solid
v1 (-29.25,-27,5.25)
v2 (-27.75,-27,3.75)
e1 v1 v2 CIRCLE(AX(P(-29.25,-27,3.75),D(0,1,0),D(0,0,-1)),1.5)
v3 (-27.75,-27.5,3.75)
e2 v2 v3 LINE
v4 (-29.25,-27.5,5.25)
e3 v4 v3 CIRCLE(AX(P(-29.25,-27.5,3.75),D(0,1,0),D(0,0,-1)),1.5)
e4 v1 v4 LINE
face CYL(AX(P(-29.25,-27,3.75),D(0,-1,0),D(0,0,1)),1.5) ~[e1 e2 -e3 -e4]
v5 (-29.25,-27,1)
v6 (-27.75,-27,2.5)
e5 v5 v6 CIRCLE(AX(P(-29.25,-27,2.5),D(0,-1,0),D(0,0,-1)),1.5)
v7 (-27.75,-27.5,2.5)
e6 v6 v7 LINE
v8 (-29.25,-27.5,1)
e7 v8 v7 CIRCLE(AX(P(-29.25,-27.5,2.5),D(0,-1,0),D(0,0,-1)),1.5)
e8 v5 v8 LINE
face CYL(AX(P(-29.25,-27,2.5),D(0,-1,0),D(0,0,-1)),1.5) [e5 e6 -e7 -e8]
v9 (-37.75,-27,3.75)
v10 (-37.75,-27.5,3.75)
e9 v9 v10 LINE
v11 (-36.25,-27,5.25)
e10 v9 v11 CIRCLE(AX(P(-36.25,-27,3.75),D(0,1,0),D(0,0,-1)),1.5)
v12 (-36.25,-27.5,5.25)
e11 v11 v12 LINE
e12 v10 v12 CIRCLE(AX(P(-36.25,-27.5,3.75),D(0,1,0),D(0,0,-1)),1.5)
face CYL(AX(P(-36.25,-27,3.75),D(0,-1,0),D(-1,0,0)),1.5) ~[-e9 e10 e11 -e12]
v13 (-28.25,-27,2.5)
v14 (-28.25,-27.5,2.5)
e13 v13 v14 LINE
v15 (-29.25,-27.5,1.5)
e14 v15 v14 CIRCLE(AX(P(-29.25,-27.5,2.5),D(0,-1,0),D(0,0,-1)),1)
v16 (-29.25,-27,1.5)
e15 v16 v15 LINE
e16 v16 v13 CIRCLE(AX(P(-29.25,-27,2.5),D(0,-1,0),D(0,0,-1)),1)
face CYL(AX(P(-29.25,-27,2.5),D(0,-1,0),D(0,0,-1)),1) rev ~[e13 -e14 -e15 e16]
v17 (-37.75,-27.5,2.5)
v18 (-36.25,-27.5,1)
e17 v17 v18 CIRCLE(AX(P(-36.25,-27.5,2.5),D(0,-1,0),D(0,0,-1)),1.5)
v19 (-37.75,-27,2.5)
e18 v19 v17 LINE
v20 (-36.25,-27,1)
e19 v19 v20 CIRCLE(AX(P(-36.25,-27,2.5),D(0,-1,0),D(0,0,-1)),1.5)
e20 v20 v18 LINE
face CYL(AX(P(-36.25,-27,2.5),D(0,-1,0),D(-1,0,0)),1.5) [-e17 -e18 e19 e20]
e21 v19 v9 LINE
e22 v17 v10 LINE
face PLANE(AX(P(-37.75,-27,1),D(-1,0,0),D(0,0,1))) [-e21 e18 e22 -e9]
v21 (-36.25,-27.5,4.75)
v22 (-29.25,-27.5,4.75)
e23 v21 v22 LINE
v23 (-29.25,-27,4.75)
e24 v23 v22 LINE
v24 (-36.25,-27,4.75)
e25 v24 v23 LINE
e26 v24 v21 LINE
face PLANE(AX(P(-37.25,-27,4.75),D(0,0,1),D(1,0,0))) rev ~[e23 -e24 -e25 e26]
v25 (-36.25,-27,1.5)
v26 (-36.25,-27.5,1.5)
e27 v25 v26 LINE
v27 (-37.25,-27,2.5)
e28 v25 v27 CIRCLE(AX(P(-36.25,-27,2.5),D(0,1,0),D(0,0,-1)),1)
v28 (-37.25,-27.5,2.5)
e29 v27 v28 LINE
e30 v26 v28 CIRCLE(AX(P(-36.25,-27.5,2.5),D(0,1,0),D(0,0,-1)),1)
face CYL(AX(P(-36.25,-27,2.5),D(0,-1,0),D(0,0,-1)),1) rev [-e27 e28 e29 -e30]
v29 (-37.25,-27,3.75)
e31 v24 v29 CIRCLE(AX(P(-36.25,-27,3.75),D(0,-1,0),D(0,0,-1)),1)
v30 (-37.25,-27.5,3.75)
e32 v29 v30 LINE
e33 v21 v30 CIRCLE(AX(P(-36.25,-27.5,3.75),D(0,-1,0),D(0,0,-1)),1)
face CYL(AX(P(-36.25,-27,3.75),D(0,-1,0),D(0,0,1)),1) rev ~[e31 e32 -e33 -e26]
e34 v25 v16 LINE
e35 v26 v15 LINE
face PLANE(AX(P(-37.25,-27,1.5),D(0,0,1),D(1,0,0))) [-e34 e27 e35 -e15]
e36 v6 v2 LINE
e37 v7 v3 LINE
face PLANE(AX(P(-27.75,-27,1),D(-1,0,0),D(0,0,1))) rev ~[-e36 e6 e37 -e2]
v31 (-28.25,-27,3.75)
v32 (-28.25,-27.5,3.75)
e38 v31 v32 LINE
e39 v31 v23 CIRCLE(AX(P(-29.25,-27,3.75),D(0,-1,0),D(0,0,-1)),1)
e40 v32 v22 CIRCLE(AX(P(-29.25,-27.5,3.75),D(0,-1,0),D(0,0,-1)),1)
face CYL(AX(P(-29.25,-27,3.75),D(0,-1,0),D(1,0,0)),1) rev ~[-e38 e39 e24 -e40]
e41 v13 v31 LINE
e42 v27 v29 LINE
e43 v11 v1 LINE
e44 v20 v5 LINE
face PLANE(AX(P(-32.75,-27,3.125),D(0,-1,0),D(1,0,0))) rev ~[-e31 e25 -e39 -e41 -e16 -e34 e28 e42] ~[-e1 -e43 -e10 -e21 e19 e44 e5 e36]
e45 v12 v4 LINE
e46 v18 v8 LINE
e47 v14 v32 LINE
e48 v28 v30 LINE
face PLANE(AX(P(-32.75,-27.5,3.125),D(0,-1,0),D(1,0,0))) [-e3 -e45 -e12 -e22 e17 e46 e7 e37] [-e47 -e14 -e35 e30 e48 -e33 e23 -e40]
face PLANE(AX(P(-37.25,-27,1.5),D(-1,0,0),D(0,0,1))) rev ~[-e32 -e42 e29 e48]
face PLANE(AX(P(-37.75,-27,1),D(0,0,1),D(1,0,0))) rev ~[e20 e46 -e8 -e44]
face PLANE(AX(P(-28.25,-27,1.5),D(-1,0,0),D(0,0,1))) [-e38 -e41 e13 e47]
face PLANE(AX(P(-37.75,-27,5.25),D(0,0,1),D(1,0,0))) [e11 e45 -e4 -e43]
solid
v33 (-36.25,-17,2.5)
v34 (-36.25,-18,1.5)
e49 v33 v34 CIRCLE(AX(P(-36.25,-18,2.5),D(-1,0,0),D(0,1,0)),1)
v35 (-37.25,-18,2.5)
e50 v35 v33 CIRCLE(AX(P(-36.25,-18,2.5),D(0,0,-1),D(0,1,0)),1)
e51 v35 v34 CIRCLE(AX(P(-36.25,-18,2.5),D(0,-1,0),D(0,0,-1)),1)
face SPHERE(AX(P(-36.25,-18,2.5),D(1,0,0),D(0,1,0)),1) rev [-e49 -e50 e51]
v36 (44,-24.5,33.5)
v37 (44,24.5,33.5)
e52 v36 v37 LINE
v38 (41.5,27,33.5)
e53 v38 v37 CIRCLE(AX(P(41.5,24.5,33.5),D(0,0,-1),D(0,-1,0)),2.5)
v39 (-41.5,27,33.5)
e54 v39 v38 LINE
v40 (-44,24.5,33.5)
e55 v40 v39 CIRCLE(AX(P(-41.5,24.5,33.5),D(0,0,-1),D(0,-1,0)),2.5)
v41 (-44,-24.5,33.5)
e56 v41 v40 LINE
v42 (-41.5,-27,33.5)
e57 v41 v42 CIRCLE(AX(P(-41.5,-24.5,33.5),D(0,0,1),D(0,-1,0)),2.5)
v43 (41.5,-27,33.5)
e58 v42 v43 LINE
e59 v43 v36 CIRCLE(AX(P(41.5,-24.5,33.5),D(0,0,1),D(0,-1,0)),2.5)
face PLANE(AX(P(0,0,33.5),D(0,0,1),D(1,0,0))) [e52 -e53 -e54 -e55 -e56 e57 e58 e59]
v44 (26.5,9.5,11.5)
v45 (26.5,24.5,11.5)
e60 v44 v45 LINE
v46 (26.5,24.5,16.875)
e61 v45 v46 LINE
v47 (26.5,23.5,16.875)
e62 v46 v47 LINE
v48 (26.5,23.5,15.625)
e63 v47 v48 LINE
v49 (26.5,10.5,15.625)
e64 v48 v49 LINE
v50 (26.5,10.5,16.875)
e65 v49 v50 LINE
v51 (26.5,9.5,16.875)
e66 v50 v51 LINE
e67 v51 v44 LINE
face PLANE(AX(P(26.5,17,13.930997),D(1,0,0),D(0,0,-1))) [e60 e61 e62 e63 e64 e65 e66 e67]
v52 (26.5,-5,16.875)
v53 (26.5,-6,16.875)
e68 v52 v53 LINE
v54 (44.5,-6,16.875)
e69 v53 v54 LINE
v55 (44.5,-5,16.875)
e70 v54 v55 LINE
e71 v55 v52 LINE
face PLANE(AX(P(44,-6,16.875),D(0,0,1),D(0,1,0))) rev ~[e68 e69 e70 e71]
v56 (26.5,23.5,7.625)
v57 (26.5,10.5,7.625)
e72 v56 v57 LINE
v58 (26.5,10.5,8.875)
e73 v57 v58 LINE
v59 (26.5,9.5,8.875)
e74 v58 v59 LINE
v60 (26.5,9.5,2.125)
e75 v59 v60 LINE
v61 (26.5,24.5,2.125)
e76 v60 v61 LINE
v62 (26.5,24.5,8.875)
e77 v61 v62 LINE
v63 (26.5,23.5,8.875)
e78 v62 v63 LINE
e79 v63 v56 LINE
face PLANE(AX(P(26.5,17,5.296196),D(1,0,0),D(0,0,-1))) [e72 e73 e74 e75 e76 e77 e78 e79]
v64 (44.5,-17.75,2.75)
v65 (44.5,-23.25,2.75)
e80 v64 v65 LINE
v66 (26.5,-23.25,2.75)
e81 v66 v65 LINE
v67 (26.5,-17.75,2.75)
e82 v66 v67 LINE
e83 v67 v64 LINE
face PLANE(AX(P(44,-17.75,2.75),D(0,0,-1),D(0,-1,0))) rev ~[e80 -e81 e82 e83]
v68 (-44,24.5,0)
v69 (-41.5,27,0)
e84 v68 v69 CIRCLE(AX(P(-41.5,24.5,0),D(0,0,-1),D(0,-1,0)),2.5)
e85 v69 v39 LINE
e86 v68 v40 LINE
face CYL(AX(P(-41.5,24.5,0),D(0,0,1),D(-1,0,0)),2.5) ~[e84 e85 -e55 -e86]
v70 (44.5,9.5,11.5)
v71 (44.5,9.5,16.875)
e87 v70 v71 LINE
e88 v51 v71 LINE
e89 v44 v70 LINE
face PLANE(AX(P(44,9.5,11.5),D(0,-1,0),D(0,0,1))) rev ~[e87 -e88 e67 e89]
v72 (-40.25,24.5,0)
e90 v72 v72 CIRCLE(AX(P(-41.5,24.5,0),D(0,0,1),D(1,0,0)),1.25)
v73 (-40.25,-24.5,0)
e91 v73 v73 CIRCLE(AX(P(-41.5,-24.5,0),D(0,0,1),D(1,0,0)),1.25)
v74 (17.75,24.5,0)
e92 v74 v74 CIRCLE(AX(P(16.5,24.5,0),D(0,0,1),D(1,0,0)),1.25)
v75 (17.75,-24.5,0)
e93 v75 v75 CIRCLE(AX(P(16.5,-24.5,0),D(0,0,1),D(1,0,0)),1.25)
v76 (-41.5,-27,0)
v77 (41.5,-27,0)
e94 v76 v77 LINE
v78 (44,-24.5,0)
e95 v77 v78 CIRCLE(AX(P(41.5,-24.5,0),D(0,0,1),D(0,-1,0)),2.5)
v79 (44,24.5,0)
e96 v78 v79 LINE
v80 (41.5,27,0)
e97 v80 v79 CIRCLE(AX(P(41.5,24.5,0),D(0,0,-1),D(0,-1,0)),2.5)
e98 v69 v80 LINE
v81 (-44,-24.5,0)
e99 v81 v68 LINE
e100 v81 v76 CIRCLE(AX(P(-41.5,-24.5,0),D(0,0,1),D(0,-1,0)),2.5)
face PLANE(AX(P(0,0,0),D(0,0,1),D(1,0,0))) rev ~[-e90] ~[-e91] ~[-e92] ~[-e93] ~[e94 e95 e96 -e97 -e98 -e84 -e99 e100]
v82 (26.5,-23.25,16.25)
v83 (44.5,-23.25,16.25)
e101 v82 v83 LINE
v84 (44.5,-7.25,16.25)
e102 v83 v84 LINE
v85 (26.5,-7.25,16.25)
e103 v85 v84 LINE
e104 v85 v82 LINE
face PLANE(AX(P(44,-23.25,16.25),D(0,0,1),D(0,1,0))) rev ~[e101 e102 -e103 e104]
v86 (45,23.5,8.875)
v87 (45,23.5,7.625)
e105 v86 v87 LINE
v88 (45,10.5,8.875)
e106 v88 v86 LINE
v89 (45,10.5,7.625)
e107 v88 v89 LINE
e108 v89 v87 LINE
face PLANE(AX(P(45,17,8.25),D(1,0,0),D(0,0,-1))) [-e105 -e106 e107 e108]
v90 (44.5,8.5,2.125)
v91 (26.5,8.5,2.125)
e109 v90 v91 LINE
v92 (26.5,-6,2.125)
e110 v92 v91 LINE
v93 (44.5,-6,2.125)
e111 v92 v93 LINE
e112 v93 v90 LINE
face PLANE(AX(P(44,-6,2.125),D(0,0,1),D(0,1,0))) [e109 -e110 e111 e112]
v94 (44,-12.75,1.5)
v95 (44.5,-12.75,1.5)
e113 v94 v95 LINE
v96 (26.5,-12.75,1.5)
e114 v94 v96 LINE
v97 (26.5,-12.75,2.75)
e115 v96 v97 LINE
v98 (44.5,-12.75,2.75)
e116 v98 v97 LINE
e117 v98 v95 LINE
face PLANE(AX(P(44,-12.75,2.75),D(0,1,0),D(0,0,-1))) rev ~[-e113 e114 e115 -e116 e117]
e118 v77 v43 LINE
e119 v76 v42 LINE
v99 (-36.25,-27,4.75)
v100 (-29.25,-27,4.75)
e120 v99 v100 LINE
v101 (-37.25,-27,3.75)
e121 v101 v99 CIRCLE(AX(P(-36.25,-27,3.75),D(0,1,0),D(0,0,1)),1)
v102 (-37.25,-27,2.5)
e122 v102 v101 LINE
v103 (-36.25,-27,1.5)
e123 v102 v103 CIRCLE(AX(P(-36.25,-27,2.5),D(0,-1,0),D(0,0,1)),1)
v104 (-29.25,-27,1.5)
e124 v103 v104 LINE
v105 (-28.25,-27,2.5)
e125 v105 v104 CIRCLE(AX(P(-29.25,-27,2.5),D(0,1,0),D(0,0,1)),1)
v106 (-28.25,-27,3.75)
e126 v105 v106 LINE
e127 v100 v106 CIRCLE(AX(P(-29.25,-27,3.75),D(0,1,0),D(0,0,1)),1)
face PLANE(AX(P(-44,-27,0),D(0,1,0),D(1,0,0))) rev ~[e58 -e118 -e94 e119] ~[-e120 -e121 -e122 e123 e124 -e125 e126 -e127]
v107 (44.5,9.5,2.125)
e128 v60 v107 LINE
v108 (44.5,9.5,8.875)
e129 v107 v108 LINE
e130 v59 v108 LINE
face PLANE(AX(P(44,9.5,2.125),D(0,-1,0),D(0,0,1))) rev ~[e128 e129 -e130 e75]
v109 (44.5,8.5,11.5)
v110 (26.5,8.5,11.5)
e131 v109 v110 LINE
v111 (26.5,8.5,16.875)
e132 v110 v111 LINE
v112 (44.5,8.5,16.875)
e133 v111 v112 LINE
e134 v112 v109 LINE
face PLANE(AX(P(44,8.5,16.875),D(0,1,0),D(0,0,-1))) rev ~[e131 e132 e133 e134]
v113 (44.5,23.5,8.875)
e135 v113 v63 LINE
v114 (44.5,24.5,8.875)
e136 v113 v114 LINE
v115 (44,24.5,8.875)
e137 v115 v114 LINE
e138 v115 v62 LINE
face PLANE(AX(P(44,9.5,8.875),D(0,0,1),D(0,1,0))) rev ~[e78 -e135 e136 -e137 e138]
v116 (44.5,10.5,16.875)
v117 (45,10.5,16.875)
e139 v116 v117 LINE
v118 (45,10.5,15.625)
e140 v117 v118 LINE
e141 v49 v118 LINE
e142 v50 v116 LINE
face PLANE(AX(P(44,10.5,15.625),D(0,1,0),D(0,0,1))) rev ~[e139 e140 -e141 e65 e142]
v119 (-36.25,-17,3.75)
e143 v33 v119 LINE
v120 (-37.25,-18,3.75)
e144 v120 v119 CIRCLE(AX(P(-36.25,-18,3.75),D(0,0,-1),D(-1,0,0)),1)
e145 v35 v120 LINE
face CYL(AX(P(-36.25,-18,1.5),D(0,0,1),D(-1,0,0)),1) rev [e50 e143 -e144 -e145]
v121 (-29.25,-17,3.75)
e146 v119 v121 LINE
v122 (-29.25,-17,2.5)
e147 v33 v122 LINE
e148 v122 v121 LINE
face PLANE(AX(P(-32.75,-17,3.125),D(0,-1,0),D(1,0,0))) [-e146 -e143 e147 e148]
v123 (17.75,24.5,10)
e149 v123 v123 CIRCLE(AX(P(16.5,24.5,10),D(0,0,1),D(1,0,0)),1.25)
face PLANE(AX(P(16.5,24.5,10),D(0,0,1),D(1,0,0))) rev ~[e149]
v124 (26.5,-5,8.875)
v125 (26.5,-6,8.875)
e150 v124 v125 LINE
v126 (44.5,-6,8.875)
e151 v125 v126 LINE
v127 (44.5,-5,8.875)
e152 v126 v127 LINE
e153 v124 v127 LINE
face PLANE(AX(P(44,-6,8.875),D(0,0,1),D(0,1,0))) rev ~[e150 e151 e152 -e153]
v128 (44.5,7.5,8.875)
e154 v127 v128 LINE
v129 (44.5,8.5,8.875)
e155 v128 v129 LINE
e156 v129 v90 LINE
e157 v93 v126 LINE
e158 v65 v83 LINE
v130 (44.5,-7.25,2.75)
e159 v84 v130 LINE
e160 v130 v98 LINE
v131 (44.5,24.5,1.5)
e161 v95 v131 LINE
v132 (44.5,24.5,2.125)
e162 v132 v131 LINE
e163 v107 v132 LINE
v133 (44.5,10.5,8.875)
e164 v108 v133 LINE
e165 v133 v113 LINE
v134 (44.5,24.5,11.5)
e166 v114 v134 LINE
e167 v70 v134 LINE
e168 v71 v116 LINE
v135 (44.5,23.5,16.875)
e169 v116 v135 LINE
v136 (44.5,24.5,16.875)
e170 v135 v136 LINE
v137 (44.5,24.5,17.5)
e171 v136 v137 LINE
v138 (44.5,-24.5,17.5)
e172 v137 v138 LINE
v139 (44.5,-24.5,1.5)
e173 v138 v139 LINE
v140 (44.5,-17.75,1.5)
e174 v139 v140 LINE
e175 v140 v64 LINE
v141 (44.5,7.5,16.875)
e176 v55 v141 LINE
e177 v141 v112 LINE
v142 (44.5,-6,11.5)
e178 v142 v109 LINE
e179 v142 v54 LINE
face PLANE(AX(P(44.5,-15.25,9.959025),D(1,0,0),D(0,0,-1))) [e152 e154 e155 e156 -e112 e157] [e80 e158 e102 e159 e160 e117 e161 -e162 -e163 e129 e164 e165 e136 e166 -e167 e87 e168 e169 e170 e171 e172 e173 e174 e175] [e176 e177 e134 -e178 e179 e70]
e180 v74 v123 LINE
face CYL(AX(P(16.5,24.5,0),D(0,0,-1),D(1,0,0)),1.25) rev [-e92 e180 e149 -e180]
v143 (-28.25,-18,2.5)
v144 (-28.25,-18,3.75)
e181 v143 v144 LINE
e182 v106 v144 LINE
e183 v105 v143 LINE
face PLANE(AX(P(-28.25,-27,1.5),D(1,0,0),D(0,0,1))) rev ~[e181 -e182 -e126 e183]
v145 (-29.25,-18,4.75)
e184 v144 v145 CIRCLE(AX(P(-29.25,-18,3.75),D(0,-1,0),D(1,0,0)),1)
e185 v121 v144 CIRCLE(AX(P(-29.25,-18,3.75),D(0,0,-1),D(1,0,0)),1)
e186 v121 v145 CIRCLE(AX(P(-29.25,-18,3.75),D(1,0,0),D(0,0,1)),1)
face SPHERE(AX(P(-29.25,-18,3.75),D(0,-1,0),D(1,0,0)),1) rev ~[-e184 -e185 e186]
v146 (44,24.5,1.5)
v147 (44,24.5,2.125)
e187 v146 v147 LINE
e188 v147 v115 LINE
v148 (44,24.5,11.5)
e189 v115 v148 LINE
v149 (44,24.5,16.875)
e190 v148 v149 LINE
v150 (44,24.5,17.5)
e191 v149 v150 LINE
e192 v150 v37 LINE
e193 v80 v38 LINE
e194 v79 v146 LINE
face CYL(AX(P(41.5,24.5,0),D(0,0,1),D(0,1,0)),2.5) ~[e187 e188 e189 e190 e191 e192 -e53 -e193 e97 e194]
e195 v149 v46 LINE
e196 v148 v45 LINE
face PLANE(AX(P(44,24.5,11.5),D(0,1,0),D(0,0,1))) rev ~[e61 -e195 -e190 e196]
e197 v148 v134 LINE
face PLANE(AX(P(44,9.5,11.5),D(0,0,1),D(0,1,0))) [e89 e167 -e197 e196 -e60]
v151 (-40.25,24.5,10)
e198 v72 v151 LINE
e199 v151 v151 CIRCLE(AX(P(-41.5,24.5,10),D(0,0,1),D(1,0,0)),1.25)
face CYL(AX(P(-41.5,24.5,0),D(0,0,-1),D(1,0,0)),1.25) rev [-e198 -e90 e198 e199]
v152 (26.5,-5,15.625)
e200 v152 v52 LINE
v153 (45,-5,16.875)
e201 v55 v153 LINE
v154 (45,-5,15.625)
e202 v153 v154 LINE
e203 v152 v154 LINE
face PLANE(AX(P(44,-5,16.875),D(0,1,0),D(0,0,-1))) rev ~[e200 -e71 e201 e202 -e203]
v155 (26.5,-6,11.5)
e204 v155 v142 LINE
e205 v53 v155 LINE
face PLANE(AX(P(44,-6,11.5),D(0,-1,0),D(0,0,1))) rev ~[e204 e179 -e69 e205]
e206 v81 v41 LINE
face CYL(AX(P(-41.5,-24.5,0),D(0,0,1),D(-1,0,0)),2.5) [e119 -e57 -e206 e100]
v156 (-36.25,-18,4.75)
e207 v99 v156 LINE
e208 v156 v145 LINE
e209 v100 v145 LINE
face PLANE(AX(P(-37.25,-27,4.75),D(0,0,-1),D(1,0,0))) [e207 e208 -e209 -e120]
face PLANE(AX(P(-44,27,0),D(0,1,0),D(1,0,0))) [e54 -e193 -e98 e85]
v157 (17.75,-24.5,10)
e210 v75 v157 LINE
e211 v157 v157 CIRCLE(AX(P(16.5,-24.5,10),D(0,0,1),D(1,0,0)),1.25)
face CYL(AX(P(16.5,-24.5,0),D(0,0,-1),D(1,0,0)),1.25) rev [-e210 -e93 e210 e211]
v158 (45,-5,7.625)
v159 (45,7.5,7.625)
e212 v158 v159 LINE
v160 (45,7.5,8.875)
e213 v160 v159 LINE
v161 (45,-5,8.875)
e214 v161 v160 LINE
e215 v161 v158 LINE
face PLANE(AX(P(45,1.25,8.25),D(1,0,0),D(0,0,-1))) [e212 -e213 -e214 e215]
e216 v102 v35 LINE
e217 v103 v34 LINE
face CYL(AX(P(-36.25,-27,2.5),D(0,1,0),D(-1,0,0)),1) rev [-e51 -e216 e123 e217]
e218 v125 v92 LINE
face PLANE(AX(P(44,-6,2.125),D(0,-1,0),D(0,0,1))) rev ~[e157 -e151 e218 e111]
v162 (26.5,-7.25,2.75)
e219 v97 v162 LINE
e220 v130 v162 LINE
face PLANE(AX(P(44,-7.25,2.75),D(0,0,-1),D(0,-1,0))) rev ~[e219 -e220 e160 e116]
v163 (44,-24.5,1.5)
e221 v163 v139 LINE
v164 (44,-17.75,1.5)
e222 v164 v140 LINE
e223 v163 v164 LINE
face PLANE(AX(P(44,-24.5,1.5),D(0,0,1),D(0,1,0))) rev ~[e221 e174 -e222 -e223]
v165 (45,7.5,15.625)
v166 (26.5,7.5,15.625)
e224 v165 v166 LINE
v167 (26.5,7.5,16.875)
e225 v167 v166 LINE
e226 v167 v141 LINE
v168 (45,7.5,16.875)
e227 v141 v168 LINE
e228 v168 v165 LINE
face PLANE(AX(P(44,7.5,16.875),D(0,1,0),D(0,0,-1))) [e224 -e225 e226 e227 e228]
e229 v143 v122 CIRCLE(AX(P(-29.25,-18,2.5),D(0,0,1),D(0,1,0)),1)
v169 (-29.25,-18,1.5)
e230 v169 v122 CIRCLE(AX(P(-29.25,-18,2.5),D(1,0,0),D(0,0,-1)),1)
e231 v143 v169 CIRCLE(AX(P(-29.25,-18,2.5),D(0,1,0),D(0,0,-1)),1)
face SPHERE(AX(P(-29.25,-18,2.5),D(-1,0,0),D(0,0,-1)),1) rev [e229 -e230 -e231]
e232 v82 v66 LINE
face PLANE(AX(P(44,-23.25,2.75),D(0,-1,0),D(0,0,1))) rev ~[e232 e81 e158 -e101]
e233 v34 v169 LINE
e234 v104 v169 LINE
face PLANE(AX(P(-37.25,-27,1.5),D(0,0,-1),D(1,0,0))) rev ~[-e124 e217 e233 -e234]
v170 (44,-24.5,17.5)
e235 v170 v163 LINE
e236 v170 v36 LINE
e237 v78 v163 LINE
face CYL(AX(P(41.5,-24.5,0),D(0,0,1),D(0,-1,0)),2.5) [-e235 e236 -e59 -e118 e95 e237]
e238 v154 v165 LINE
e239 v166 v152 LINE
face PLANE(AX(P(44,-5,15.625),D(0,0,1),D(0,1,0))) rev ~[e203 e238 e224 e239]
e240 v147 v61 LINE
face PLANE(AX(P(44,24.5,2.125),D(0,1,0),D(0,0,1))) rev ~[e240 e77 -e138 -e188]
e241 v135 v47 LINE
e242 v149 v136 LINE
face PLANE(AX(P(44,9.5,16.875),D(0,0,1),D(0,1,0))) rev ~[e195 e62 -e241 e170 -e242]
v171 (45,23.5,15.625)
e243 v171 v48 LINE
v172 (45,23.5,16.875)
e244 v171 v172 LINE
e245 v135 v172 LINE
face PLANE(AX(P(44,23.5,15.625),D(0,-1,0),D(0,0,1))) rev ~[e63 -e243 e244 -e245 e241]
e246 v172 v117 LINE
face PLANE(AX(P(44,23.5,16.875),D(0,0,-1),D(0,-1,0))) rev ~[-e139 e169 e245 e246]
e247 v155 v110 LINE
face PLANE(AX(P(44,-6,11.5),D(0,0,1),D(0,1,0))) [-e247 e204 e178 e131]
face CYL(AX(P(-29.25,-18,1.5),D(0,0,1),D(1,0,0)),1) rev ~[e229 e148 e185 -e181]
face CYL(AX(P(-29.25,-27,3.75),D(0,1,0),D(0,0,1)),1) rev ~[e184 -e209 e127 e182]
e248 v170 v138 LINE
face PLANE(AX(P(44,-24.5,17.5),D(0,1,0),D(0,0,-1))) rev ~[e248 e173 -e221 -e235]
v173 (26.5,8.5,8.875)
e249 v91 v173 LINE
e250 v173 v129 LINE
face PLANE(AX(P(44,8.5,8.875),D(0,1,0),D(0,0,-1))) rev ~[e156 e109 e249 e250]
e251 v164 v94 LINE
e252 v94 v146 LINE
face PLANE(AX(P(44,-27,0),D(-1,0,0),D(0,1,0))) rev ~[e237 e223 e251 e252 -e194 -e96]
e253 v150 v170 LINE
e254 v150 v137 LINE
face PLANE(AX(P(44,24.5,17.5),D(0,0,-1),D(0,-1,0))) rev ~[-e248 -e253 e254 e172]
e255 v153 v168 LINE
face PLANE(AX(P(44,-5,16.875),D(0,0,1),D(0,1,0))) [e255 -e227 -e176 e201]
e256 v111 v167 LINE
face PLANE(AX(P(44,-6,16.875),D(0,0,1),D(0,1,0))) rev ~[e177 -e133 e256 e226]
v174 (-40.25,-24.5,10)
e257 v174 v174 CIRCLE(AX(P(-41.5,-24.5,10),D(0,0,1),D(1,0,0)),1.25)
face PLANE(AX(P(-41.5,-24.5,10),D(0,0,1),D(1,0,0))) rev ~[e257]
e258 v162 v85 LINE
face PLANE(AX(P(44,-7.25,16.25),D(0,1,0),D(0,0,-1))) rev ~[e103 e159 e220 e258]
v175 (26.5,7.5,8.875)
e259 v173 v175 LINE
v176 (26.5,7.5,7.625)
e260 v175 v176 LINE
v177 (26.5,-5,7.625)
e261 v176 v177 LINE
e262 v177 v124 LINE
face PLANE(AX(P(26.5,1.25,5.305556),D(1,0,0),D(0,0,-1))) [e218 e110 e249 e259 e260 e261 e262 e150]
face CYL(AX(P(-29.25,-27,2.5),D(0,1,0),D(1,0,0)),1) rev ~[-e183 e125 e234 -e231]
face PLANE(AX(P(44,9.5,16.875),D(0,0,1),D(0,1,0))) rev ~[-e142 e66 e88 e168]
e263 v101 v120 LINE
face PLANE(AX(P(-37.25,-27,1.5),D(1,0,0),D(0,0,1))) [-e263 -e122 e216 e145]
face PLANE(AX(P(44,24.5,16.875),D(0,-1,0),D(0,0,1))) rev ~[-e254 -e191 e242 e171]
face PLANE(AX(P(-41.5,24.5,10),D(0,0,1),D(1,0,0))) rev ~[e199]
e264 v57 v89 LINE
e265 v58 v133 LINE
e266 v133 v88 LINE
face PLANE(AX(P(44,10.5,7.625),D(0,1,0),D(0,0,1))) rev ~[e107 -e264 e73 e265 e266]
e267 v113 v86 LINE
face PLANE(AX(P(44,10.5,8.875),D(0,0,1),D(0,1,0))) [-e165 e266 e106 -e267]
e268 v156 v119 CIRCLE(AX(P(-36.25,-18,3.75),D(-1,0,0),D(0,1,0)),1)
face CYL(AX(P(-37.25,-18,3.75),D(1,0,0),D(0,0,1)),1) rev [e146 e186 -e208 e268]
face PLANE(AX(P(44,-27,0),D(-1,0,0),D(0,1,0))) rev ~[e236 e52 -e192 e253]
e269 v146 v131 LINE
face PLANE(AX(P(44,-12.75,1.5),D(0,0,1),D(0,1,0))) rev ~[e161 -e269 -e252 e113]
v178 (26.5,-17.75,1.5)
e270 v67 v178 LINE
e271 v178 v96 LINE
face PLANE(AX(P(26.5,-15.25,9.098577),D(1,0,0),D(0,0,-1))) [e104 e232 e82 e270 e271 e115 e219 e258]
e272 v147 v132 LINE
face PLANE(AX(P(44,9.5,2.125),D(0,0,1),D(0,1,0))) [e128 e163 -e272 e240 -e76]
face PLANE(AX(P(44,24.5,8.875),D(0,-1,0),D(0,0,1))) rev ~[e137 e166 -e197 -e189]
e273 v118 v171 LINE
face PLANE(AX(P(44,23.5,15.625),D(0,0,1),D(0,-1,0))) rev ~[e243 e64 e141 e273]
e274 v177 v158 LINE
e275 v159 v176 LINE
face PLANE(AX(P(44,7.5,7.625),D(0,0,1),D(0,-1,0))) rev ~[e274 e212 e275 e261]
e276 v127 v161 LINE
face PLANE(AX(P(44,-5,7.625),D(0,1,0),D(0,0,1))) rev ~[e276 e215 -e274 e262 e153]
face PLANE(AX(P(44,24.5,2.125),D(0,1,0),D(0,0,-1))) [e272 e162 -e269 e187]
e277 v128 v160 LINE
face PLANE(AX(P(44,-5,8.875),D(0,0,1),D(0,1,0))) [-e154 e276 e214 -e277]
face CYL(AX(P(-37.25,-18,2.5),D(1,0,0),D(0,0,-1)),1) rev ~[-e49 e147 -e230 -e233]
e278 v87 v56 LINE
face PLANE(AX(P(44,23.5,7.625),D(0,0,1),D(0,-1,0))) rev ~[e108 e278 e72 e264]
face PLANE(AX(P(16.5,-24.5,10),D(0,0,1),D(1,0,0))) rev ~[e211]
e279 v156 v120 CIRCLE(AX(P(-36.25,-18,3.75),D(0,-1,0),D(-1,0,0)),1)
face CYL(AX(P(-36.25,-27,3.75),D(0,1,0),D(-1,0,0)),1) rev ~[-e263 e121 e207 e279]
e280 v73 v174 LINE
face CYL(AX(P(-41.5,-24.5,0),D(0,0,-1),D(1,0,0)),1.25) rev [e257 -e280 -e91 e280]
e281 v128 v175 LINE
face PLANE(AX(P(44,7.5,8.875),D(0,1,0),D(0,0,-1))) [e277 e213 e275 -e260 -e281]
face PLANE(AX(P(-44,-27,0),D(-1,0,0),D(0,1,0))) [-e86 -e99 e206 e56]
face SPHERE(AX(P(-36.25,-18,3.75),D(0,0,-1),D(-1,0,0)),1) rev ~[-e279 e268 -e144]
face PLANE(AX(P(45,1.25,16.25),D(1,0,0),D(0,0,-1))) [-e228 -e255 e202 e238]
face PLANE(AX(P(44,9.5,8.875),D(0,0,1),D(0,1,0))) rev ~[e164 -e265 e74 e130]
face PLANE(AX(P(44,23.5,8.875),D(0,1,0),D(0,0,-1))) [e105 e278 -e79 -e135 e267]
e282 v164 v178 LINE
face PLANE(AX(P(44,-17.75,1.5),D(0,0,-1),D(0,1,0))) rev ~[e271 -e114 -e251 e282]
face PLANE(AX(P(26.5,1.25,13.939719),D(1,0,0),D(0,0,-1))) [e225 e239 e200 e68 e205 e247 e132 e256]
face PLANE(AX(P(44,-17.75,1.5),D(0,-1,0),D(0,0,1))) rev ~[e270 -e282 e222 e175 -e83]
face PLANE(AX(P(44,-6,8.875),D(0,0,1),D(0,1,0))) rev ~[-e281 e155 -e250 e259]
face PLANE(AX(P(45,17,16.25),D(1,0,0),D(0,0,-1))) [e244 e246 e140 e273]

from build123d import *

# Parameters (mm, degrees)
ESQUISSE1_W             = 88
ESQUISSE1_H             = 54
ESQUISSE1_R             = 1.25
BOSS_EXTRU_1_DEPTH      = 33.5
ESQUISSE1_3_R           = 1.25
ENL_V_MAT_EXTRU_1_DEPTH = 10
CONG_1_R                = 2.5
ENL_V_MAT_EXTRU_2_DEPTH = 17.5
ESQUISSE2_7_W           = 2
ESQUISSE2_7_H           = 14.5
ESQUISSE2_7_W_2         = 0.625
ESQUISSE2_7_W_3         = 5.375
ESQUISSE2_7_H_2         = 0.5
ESQUISSE2_7_W_4         = 6.75
ESQUISSE2_7_H_3         = 15
BOSS_EXTRU_3_DEPTH      = 0.5
ESQUISSE2_8_W           = 1.25
ESQUISSE2_8_H           = 12.5
ESQUISSE2_8_H_2         = 13
BOSS_EXTRU_4_DEPTH      = 1
ESQUISSE3_W             = 9
ESQUISSE3_H             = 3.25
ENL_V_MAT_EXTRU_3_DEPTH = 10
ESQUISSE3_2_W           = 10
ESQUISSE3_2_H           = 4.25
ESQUISSE3_2_W_2         = 9
ESQUISSE3_2_H_2         = 3.25
BOSS_EXTRU_5_DEPTH      = 0.5
CONG_2_R                = 1.5
CONG_3_R                = 1
CONG_4_R                = 1


with BuildPart() as part:
    # Esquisse1 → Boss.-Extru.1 (new body)
    with BuildSketch(Plane.XY):
        Rectangle(ESQUISSE1_W, ESQUISSE1_H)
        with Locations((16.5, 24.5)):
            Circle(ESQUISSE1_R, mode=Mode.SUBTRACT)
        with Locations((16.5, -24.5)):
            Circle(ESQUISSE1_R, mode=Mode.SUBTRACT)
        with Locations((-41.5, -24.5)):
            Circle(ESQUISSE1_R, mode=Mode.SUBTRACT)
        with Locations((-41.5, 24.5)):
            Circle(ESQUISSE1_R, mode=Mode.SUBTRACT)
        with Locations((16.5, -24.5)):
            Circle(ESQUISSE1_R)
        with Locations((16.5, 24.5)):
            Circle(ESQUISSE1_R)
        with Locations((-41.5, 24.5)):
            Circle(ESQUISSE1_R)
        with Locations((-41.5, -24.5)):
            Circle(ESQUISSE1_R)
    extrude(amount=BOSS_EXTRU_1_DEPTH)

    # Esquisse1_3 → Enl_v. mat.-Extru.1 (cut)
    with BuildSketch(Plane.XY):
        with Locations((16.5, 24.5)):
            Circle(ESQUISSE1_3_R)
        with Locations((-41.5, 24.5)):
            Circle(ESQUISSE1_3_R)
        with Locations((-41.5, -24.5)):
            Circle(ESQUISSE1_3_R)
        with Locations((16.5, -24.5)):
            Circle(ESQUISSE1_3_R)
    extrude(amount=ENL_V_MAT_EXTRU_1_DEPTH, mode=Mode.SUBTRACT)

    # Cong_1
    cong_1_edges = [part.edges().sort_by_distance(p)[0] for p in [
        (44, -27, 16.75),
        (-44, -27, 16.75),
        (-44, 27, 16.75),
        (44, 27, 16.75),
    ]]
    fillet(cong_1_edges, radius=CONG_1_R)

    # Esquisse2 → Enl_v. mat.-Extru.2 (cut)
    with BuildSketch(Plane(origin=(44, 0, 0), x_dir=(0, 0, -1), z_dir=(1, 0, 0))):
        Polygon((-2.75, -17.75), (-1.5, -17.75), (-1.5, -12.75), (-2.75, -12.75), (-2.75, -7.25), (-16.25, -7.25), (-16.25, -23.25), (-2.75, -23.25), align=None)
        Polygon((-16.875, -5), (-16.875, -6), (-11.5, -6), (-11.5, 8.5), (-16.875, 8.5), (-16.875, 7.5), (-15.625, 7.5), (-15.625, -5), align=None)
        Polygon((-8.875, -6), (-2.125, -6), (-2.125, 8.5), (-8.875, 8.5), (-8.875, 7.5), (-7.625, 7.5), (-7.625, -5), (-8.875, -5), align=None)
        Polygon((-16.875, 10.5), (-16.875, 9.5), (-11.5, 9.5), (-11.5, 24.5), (-16.875, 24.5), (-16.875, 23.5), (-15.625, 23.5), (-15.625, 10.5), align=None)
        Polygon((-8.875, 9.5), (-2.125, 9.5), (-2.125, 24.5), (-8.875, 24.5), (-8.875, 23.5), (-7.625, 23.5), (-7.625, 10.5), (-8.875, 10.5), align=None)
    extrude(amount=-ENL_V_MAT_EXTRU_2_DEPTH, mode=Mode.SUBTRACT)

    # Esquisse2_7 → Boss.-Extru.3 (add)
    with BuildSketch(Plane(origin=(44, 0, 0), x_dir=(0, 0, -1), z_dir=(1, 0, 0))):
        Polygon((-17.5, -24.5), (-1.5, -24.5), (-1.5, -17.75), (-2.75, -17.75), (-2.75, -23.25), (-16.25, -23.25), (-16.25, -7.25), (-2.75, -7.25), (-2.75, -12.75), (-1.5, -12.75), (-1.5, -6), (-2.125, -6), (-8.875, -6), (-9.5, -6), (-11.5, -6), (-16.875, -6), (-17.5, -6), align=None)
        with Locations((-10.5, 1.25)):
            Rectangle(ESQUISSE2_7_W, ESQUISSE2_7_H)
        Polygon((-9.5, 8.5), (-9.5, -6), (-8.875, -6), (-8.875, -5), (-8.875, 7.5), (-8.875, 8.5), align=None)
        with Locations((-1.8125, 1.25)):
            Rectangle(ESQUISSE2_7_W_2, ESQUISSE2_7_H)
        Polygon((-17.5, 8.5), (-17.5, -6), (-16.875, -6), (-16.875, -5), (-16.875, 7.5), (-16.875, 8.5), align=None)
        with Locations((-14.1875, 8.75)):
            Rectangle(ESQUISSE2_7_W_3, ESQUISSE2_7_H_2)
        with Locations((-17.1875, 8.75)):
            Rectangle(ESQUISSE2_7_W_2, ESQUISSE2_7_H_2)
        with Locations((-17.1875, 9.25)):
            Rectangle(ESQUISSE2_7_W_2, ESQUISSE2_7_H_2)
        with Locations((-14.1875, 9.25)):
            Rectangle(ESQUISSE2_7_W_3, ESQUISSE2_7_H_2)
        with Locations((-10.5, 9.25)):
            Rectangle(ESQUISSE2_7_W, ESQUISSE2_7_H_2)
        with Locations((-10.5, 8.75)):
            Rectangle(ESQUISSE2_7_W, ESQUISSE2_7_H_2)
        with Locations((-9.1875, 8.75)):
            Rectangle(ESQUISSE2_7_W_2, ESQUISSE2_7_H_2)
        with Locations((-9.1875, 9.25)):
            Rectangle(ESQUISSE2_7_W_2, ESQUISSE2_7_H_2)
        with Locations((-5.5, 8.75)):
            Rectangle(ESQUISSE2_7_W_4, ESQUISSE2_7_H_2)
        with Locations((-5.5, 9.25)):
            Rectangle(ESQUISSE2_7_W_4, ESQUISSE2_7_H_2)
        with Locations((-1.8125, 8.75)):
            Rectangle(ESQUISSE2_7_W_2, ESQUISSE2_7_H_2)
        with Locations((-1.8125, 9.25)):
            Rectangle(ESQUISSE2_7_W_2, ESQUISSE2_7_H_2)
        with Locations((-1.8125, 17)):
            Rectangle(ESQUISSE2_7_W_2, ESQUISSE2_7_H_3)
        Polygon((-9.5, 24.5), (-9.5, 9.5), (-8.875, 9.5), (-8.875, 10.5), (-8.875, 23.5), (-8.875, 24.5), align=None)
        with Locations((-10.5, 17)):
            Rectangle(ESQUISSE2_7_W, ESQUISSE2_7_H_3)
        Polygon((-17.5, 24.5), (-17.5, 9.5), (-16.875, 9.5), (-16.875, 10.5), (-16.875, 23.5), (-16.875, 24.5), align=None)
    extrude(amount=BOSS_EXTRU_3_DEPTH)

    # Esquisse2_8 → Boss.-Extru.4 (add)
    with BuildSketch(Plane(origin=(44, 0, 0), x_dir=(0, 0, -1), z_dir=(1, 0, 0))):
        with Locations((-16.25, 1.25)):
            Rectangle(ESQUISSE2_8_W, ESQUISSE2_8_H)
        with Locations((-8.25, 1.25)):
            Rectangle(ESQUISSE2_8_W, ESQUISSE2_8_H)
        with Locations((-8.25, 17)):
            Rectangle(ESQUISSE2_8_W, ESQUISSE2_8_H_2)
        Polygon((-16.875, 23.5), (-16.875, 10.5), (-15.625, 10.5), (-15.625, 23), (-15.625, 23.5), align=None)
    extrude(amount=BOSS_EXTRU_4_DEPTH)

    # Esquisse3 → Enl_v. mat.-Extru.3 (cut)
    with BuildSketch(Plane.XZ.offset(27)):
        with Locations((-32.75, 3.125)):
            Rectangle(ESQUISSE3_W, ESQUISSE3_H)
    extrude(amount=-ENL_V_MAT_EXTRU_3_DEPTH, mode=Mode.SUBTRACT)

    # Cong_4
    cong_4_edges = [part.edges().sort_by_distance(p)[0] for p in [
        (-28.25, -22, 4.75),
        (-32.75, -17, 1.5),
        (-28.25, -22, 1.5),
        (-37.25, -17, 3.125),
        (-37.25, -22, 1.5),
        (-37.25, -22, 4.75),
        (-28.25, -17, 3.125),
        (-32.75, -17, 4.75),
    ]]
    fillet(cong_4_edges, radius=CONG_4_R)


with BuildPart() as body_2:
    # Esquisse3_2 → Boss.-Extru.5 (new body)
    with BuildSketch(Plane.XZ.offset(27)):
        with Locations((-32.75, 3.125)):
            Rectangle(ESQUISSE3_2_W, ESQUISSE3_2_H)
        with Locations((-32.75, 3.125)):
            Rectangle(ESQUISSE3_2_W_2, ESQUISSE3_2_H_2, mode=Mode.SUBTRACT)
    extrude(amount=BOSS_EXTRU_5_DEPTH)

    # Cong_2
    cong_2_edges = [body_2.edges().sort_by_distance(p)[0] for p in [
        (-27.75, -27.25, 5.25),
        (-27.75, -27.25, 1),
        (-37.75, -27.25, 1),
        (-37.75, -27.25, 5.25),
    ]]
    fillet(cong_2_edges, radius=CONG_2_R)

    # Cong_3
    cong_3_edges = [body_2.edges().sort_by_distance(p)[0] for p in [
        (-37.25, -27.25, 4.75),
        (-37.25, -27.25, 1.5),
        (-28.25, -27.25, 1.5),
        (-28.25, -27.25, 4.75),
    ]]
    fillet(cong_3_edges, radius=CONG_3_R)


solid = Compound([part.part, body_2.part])
